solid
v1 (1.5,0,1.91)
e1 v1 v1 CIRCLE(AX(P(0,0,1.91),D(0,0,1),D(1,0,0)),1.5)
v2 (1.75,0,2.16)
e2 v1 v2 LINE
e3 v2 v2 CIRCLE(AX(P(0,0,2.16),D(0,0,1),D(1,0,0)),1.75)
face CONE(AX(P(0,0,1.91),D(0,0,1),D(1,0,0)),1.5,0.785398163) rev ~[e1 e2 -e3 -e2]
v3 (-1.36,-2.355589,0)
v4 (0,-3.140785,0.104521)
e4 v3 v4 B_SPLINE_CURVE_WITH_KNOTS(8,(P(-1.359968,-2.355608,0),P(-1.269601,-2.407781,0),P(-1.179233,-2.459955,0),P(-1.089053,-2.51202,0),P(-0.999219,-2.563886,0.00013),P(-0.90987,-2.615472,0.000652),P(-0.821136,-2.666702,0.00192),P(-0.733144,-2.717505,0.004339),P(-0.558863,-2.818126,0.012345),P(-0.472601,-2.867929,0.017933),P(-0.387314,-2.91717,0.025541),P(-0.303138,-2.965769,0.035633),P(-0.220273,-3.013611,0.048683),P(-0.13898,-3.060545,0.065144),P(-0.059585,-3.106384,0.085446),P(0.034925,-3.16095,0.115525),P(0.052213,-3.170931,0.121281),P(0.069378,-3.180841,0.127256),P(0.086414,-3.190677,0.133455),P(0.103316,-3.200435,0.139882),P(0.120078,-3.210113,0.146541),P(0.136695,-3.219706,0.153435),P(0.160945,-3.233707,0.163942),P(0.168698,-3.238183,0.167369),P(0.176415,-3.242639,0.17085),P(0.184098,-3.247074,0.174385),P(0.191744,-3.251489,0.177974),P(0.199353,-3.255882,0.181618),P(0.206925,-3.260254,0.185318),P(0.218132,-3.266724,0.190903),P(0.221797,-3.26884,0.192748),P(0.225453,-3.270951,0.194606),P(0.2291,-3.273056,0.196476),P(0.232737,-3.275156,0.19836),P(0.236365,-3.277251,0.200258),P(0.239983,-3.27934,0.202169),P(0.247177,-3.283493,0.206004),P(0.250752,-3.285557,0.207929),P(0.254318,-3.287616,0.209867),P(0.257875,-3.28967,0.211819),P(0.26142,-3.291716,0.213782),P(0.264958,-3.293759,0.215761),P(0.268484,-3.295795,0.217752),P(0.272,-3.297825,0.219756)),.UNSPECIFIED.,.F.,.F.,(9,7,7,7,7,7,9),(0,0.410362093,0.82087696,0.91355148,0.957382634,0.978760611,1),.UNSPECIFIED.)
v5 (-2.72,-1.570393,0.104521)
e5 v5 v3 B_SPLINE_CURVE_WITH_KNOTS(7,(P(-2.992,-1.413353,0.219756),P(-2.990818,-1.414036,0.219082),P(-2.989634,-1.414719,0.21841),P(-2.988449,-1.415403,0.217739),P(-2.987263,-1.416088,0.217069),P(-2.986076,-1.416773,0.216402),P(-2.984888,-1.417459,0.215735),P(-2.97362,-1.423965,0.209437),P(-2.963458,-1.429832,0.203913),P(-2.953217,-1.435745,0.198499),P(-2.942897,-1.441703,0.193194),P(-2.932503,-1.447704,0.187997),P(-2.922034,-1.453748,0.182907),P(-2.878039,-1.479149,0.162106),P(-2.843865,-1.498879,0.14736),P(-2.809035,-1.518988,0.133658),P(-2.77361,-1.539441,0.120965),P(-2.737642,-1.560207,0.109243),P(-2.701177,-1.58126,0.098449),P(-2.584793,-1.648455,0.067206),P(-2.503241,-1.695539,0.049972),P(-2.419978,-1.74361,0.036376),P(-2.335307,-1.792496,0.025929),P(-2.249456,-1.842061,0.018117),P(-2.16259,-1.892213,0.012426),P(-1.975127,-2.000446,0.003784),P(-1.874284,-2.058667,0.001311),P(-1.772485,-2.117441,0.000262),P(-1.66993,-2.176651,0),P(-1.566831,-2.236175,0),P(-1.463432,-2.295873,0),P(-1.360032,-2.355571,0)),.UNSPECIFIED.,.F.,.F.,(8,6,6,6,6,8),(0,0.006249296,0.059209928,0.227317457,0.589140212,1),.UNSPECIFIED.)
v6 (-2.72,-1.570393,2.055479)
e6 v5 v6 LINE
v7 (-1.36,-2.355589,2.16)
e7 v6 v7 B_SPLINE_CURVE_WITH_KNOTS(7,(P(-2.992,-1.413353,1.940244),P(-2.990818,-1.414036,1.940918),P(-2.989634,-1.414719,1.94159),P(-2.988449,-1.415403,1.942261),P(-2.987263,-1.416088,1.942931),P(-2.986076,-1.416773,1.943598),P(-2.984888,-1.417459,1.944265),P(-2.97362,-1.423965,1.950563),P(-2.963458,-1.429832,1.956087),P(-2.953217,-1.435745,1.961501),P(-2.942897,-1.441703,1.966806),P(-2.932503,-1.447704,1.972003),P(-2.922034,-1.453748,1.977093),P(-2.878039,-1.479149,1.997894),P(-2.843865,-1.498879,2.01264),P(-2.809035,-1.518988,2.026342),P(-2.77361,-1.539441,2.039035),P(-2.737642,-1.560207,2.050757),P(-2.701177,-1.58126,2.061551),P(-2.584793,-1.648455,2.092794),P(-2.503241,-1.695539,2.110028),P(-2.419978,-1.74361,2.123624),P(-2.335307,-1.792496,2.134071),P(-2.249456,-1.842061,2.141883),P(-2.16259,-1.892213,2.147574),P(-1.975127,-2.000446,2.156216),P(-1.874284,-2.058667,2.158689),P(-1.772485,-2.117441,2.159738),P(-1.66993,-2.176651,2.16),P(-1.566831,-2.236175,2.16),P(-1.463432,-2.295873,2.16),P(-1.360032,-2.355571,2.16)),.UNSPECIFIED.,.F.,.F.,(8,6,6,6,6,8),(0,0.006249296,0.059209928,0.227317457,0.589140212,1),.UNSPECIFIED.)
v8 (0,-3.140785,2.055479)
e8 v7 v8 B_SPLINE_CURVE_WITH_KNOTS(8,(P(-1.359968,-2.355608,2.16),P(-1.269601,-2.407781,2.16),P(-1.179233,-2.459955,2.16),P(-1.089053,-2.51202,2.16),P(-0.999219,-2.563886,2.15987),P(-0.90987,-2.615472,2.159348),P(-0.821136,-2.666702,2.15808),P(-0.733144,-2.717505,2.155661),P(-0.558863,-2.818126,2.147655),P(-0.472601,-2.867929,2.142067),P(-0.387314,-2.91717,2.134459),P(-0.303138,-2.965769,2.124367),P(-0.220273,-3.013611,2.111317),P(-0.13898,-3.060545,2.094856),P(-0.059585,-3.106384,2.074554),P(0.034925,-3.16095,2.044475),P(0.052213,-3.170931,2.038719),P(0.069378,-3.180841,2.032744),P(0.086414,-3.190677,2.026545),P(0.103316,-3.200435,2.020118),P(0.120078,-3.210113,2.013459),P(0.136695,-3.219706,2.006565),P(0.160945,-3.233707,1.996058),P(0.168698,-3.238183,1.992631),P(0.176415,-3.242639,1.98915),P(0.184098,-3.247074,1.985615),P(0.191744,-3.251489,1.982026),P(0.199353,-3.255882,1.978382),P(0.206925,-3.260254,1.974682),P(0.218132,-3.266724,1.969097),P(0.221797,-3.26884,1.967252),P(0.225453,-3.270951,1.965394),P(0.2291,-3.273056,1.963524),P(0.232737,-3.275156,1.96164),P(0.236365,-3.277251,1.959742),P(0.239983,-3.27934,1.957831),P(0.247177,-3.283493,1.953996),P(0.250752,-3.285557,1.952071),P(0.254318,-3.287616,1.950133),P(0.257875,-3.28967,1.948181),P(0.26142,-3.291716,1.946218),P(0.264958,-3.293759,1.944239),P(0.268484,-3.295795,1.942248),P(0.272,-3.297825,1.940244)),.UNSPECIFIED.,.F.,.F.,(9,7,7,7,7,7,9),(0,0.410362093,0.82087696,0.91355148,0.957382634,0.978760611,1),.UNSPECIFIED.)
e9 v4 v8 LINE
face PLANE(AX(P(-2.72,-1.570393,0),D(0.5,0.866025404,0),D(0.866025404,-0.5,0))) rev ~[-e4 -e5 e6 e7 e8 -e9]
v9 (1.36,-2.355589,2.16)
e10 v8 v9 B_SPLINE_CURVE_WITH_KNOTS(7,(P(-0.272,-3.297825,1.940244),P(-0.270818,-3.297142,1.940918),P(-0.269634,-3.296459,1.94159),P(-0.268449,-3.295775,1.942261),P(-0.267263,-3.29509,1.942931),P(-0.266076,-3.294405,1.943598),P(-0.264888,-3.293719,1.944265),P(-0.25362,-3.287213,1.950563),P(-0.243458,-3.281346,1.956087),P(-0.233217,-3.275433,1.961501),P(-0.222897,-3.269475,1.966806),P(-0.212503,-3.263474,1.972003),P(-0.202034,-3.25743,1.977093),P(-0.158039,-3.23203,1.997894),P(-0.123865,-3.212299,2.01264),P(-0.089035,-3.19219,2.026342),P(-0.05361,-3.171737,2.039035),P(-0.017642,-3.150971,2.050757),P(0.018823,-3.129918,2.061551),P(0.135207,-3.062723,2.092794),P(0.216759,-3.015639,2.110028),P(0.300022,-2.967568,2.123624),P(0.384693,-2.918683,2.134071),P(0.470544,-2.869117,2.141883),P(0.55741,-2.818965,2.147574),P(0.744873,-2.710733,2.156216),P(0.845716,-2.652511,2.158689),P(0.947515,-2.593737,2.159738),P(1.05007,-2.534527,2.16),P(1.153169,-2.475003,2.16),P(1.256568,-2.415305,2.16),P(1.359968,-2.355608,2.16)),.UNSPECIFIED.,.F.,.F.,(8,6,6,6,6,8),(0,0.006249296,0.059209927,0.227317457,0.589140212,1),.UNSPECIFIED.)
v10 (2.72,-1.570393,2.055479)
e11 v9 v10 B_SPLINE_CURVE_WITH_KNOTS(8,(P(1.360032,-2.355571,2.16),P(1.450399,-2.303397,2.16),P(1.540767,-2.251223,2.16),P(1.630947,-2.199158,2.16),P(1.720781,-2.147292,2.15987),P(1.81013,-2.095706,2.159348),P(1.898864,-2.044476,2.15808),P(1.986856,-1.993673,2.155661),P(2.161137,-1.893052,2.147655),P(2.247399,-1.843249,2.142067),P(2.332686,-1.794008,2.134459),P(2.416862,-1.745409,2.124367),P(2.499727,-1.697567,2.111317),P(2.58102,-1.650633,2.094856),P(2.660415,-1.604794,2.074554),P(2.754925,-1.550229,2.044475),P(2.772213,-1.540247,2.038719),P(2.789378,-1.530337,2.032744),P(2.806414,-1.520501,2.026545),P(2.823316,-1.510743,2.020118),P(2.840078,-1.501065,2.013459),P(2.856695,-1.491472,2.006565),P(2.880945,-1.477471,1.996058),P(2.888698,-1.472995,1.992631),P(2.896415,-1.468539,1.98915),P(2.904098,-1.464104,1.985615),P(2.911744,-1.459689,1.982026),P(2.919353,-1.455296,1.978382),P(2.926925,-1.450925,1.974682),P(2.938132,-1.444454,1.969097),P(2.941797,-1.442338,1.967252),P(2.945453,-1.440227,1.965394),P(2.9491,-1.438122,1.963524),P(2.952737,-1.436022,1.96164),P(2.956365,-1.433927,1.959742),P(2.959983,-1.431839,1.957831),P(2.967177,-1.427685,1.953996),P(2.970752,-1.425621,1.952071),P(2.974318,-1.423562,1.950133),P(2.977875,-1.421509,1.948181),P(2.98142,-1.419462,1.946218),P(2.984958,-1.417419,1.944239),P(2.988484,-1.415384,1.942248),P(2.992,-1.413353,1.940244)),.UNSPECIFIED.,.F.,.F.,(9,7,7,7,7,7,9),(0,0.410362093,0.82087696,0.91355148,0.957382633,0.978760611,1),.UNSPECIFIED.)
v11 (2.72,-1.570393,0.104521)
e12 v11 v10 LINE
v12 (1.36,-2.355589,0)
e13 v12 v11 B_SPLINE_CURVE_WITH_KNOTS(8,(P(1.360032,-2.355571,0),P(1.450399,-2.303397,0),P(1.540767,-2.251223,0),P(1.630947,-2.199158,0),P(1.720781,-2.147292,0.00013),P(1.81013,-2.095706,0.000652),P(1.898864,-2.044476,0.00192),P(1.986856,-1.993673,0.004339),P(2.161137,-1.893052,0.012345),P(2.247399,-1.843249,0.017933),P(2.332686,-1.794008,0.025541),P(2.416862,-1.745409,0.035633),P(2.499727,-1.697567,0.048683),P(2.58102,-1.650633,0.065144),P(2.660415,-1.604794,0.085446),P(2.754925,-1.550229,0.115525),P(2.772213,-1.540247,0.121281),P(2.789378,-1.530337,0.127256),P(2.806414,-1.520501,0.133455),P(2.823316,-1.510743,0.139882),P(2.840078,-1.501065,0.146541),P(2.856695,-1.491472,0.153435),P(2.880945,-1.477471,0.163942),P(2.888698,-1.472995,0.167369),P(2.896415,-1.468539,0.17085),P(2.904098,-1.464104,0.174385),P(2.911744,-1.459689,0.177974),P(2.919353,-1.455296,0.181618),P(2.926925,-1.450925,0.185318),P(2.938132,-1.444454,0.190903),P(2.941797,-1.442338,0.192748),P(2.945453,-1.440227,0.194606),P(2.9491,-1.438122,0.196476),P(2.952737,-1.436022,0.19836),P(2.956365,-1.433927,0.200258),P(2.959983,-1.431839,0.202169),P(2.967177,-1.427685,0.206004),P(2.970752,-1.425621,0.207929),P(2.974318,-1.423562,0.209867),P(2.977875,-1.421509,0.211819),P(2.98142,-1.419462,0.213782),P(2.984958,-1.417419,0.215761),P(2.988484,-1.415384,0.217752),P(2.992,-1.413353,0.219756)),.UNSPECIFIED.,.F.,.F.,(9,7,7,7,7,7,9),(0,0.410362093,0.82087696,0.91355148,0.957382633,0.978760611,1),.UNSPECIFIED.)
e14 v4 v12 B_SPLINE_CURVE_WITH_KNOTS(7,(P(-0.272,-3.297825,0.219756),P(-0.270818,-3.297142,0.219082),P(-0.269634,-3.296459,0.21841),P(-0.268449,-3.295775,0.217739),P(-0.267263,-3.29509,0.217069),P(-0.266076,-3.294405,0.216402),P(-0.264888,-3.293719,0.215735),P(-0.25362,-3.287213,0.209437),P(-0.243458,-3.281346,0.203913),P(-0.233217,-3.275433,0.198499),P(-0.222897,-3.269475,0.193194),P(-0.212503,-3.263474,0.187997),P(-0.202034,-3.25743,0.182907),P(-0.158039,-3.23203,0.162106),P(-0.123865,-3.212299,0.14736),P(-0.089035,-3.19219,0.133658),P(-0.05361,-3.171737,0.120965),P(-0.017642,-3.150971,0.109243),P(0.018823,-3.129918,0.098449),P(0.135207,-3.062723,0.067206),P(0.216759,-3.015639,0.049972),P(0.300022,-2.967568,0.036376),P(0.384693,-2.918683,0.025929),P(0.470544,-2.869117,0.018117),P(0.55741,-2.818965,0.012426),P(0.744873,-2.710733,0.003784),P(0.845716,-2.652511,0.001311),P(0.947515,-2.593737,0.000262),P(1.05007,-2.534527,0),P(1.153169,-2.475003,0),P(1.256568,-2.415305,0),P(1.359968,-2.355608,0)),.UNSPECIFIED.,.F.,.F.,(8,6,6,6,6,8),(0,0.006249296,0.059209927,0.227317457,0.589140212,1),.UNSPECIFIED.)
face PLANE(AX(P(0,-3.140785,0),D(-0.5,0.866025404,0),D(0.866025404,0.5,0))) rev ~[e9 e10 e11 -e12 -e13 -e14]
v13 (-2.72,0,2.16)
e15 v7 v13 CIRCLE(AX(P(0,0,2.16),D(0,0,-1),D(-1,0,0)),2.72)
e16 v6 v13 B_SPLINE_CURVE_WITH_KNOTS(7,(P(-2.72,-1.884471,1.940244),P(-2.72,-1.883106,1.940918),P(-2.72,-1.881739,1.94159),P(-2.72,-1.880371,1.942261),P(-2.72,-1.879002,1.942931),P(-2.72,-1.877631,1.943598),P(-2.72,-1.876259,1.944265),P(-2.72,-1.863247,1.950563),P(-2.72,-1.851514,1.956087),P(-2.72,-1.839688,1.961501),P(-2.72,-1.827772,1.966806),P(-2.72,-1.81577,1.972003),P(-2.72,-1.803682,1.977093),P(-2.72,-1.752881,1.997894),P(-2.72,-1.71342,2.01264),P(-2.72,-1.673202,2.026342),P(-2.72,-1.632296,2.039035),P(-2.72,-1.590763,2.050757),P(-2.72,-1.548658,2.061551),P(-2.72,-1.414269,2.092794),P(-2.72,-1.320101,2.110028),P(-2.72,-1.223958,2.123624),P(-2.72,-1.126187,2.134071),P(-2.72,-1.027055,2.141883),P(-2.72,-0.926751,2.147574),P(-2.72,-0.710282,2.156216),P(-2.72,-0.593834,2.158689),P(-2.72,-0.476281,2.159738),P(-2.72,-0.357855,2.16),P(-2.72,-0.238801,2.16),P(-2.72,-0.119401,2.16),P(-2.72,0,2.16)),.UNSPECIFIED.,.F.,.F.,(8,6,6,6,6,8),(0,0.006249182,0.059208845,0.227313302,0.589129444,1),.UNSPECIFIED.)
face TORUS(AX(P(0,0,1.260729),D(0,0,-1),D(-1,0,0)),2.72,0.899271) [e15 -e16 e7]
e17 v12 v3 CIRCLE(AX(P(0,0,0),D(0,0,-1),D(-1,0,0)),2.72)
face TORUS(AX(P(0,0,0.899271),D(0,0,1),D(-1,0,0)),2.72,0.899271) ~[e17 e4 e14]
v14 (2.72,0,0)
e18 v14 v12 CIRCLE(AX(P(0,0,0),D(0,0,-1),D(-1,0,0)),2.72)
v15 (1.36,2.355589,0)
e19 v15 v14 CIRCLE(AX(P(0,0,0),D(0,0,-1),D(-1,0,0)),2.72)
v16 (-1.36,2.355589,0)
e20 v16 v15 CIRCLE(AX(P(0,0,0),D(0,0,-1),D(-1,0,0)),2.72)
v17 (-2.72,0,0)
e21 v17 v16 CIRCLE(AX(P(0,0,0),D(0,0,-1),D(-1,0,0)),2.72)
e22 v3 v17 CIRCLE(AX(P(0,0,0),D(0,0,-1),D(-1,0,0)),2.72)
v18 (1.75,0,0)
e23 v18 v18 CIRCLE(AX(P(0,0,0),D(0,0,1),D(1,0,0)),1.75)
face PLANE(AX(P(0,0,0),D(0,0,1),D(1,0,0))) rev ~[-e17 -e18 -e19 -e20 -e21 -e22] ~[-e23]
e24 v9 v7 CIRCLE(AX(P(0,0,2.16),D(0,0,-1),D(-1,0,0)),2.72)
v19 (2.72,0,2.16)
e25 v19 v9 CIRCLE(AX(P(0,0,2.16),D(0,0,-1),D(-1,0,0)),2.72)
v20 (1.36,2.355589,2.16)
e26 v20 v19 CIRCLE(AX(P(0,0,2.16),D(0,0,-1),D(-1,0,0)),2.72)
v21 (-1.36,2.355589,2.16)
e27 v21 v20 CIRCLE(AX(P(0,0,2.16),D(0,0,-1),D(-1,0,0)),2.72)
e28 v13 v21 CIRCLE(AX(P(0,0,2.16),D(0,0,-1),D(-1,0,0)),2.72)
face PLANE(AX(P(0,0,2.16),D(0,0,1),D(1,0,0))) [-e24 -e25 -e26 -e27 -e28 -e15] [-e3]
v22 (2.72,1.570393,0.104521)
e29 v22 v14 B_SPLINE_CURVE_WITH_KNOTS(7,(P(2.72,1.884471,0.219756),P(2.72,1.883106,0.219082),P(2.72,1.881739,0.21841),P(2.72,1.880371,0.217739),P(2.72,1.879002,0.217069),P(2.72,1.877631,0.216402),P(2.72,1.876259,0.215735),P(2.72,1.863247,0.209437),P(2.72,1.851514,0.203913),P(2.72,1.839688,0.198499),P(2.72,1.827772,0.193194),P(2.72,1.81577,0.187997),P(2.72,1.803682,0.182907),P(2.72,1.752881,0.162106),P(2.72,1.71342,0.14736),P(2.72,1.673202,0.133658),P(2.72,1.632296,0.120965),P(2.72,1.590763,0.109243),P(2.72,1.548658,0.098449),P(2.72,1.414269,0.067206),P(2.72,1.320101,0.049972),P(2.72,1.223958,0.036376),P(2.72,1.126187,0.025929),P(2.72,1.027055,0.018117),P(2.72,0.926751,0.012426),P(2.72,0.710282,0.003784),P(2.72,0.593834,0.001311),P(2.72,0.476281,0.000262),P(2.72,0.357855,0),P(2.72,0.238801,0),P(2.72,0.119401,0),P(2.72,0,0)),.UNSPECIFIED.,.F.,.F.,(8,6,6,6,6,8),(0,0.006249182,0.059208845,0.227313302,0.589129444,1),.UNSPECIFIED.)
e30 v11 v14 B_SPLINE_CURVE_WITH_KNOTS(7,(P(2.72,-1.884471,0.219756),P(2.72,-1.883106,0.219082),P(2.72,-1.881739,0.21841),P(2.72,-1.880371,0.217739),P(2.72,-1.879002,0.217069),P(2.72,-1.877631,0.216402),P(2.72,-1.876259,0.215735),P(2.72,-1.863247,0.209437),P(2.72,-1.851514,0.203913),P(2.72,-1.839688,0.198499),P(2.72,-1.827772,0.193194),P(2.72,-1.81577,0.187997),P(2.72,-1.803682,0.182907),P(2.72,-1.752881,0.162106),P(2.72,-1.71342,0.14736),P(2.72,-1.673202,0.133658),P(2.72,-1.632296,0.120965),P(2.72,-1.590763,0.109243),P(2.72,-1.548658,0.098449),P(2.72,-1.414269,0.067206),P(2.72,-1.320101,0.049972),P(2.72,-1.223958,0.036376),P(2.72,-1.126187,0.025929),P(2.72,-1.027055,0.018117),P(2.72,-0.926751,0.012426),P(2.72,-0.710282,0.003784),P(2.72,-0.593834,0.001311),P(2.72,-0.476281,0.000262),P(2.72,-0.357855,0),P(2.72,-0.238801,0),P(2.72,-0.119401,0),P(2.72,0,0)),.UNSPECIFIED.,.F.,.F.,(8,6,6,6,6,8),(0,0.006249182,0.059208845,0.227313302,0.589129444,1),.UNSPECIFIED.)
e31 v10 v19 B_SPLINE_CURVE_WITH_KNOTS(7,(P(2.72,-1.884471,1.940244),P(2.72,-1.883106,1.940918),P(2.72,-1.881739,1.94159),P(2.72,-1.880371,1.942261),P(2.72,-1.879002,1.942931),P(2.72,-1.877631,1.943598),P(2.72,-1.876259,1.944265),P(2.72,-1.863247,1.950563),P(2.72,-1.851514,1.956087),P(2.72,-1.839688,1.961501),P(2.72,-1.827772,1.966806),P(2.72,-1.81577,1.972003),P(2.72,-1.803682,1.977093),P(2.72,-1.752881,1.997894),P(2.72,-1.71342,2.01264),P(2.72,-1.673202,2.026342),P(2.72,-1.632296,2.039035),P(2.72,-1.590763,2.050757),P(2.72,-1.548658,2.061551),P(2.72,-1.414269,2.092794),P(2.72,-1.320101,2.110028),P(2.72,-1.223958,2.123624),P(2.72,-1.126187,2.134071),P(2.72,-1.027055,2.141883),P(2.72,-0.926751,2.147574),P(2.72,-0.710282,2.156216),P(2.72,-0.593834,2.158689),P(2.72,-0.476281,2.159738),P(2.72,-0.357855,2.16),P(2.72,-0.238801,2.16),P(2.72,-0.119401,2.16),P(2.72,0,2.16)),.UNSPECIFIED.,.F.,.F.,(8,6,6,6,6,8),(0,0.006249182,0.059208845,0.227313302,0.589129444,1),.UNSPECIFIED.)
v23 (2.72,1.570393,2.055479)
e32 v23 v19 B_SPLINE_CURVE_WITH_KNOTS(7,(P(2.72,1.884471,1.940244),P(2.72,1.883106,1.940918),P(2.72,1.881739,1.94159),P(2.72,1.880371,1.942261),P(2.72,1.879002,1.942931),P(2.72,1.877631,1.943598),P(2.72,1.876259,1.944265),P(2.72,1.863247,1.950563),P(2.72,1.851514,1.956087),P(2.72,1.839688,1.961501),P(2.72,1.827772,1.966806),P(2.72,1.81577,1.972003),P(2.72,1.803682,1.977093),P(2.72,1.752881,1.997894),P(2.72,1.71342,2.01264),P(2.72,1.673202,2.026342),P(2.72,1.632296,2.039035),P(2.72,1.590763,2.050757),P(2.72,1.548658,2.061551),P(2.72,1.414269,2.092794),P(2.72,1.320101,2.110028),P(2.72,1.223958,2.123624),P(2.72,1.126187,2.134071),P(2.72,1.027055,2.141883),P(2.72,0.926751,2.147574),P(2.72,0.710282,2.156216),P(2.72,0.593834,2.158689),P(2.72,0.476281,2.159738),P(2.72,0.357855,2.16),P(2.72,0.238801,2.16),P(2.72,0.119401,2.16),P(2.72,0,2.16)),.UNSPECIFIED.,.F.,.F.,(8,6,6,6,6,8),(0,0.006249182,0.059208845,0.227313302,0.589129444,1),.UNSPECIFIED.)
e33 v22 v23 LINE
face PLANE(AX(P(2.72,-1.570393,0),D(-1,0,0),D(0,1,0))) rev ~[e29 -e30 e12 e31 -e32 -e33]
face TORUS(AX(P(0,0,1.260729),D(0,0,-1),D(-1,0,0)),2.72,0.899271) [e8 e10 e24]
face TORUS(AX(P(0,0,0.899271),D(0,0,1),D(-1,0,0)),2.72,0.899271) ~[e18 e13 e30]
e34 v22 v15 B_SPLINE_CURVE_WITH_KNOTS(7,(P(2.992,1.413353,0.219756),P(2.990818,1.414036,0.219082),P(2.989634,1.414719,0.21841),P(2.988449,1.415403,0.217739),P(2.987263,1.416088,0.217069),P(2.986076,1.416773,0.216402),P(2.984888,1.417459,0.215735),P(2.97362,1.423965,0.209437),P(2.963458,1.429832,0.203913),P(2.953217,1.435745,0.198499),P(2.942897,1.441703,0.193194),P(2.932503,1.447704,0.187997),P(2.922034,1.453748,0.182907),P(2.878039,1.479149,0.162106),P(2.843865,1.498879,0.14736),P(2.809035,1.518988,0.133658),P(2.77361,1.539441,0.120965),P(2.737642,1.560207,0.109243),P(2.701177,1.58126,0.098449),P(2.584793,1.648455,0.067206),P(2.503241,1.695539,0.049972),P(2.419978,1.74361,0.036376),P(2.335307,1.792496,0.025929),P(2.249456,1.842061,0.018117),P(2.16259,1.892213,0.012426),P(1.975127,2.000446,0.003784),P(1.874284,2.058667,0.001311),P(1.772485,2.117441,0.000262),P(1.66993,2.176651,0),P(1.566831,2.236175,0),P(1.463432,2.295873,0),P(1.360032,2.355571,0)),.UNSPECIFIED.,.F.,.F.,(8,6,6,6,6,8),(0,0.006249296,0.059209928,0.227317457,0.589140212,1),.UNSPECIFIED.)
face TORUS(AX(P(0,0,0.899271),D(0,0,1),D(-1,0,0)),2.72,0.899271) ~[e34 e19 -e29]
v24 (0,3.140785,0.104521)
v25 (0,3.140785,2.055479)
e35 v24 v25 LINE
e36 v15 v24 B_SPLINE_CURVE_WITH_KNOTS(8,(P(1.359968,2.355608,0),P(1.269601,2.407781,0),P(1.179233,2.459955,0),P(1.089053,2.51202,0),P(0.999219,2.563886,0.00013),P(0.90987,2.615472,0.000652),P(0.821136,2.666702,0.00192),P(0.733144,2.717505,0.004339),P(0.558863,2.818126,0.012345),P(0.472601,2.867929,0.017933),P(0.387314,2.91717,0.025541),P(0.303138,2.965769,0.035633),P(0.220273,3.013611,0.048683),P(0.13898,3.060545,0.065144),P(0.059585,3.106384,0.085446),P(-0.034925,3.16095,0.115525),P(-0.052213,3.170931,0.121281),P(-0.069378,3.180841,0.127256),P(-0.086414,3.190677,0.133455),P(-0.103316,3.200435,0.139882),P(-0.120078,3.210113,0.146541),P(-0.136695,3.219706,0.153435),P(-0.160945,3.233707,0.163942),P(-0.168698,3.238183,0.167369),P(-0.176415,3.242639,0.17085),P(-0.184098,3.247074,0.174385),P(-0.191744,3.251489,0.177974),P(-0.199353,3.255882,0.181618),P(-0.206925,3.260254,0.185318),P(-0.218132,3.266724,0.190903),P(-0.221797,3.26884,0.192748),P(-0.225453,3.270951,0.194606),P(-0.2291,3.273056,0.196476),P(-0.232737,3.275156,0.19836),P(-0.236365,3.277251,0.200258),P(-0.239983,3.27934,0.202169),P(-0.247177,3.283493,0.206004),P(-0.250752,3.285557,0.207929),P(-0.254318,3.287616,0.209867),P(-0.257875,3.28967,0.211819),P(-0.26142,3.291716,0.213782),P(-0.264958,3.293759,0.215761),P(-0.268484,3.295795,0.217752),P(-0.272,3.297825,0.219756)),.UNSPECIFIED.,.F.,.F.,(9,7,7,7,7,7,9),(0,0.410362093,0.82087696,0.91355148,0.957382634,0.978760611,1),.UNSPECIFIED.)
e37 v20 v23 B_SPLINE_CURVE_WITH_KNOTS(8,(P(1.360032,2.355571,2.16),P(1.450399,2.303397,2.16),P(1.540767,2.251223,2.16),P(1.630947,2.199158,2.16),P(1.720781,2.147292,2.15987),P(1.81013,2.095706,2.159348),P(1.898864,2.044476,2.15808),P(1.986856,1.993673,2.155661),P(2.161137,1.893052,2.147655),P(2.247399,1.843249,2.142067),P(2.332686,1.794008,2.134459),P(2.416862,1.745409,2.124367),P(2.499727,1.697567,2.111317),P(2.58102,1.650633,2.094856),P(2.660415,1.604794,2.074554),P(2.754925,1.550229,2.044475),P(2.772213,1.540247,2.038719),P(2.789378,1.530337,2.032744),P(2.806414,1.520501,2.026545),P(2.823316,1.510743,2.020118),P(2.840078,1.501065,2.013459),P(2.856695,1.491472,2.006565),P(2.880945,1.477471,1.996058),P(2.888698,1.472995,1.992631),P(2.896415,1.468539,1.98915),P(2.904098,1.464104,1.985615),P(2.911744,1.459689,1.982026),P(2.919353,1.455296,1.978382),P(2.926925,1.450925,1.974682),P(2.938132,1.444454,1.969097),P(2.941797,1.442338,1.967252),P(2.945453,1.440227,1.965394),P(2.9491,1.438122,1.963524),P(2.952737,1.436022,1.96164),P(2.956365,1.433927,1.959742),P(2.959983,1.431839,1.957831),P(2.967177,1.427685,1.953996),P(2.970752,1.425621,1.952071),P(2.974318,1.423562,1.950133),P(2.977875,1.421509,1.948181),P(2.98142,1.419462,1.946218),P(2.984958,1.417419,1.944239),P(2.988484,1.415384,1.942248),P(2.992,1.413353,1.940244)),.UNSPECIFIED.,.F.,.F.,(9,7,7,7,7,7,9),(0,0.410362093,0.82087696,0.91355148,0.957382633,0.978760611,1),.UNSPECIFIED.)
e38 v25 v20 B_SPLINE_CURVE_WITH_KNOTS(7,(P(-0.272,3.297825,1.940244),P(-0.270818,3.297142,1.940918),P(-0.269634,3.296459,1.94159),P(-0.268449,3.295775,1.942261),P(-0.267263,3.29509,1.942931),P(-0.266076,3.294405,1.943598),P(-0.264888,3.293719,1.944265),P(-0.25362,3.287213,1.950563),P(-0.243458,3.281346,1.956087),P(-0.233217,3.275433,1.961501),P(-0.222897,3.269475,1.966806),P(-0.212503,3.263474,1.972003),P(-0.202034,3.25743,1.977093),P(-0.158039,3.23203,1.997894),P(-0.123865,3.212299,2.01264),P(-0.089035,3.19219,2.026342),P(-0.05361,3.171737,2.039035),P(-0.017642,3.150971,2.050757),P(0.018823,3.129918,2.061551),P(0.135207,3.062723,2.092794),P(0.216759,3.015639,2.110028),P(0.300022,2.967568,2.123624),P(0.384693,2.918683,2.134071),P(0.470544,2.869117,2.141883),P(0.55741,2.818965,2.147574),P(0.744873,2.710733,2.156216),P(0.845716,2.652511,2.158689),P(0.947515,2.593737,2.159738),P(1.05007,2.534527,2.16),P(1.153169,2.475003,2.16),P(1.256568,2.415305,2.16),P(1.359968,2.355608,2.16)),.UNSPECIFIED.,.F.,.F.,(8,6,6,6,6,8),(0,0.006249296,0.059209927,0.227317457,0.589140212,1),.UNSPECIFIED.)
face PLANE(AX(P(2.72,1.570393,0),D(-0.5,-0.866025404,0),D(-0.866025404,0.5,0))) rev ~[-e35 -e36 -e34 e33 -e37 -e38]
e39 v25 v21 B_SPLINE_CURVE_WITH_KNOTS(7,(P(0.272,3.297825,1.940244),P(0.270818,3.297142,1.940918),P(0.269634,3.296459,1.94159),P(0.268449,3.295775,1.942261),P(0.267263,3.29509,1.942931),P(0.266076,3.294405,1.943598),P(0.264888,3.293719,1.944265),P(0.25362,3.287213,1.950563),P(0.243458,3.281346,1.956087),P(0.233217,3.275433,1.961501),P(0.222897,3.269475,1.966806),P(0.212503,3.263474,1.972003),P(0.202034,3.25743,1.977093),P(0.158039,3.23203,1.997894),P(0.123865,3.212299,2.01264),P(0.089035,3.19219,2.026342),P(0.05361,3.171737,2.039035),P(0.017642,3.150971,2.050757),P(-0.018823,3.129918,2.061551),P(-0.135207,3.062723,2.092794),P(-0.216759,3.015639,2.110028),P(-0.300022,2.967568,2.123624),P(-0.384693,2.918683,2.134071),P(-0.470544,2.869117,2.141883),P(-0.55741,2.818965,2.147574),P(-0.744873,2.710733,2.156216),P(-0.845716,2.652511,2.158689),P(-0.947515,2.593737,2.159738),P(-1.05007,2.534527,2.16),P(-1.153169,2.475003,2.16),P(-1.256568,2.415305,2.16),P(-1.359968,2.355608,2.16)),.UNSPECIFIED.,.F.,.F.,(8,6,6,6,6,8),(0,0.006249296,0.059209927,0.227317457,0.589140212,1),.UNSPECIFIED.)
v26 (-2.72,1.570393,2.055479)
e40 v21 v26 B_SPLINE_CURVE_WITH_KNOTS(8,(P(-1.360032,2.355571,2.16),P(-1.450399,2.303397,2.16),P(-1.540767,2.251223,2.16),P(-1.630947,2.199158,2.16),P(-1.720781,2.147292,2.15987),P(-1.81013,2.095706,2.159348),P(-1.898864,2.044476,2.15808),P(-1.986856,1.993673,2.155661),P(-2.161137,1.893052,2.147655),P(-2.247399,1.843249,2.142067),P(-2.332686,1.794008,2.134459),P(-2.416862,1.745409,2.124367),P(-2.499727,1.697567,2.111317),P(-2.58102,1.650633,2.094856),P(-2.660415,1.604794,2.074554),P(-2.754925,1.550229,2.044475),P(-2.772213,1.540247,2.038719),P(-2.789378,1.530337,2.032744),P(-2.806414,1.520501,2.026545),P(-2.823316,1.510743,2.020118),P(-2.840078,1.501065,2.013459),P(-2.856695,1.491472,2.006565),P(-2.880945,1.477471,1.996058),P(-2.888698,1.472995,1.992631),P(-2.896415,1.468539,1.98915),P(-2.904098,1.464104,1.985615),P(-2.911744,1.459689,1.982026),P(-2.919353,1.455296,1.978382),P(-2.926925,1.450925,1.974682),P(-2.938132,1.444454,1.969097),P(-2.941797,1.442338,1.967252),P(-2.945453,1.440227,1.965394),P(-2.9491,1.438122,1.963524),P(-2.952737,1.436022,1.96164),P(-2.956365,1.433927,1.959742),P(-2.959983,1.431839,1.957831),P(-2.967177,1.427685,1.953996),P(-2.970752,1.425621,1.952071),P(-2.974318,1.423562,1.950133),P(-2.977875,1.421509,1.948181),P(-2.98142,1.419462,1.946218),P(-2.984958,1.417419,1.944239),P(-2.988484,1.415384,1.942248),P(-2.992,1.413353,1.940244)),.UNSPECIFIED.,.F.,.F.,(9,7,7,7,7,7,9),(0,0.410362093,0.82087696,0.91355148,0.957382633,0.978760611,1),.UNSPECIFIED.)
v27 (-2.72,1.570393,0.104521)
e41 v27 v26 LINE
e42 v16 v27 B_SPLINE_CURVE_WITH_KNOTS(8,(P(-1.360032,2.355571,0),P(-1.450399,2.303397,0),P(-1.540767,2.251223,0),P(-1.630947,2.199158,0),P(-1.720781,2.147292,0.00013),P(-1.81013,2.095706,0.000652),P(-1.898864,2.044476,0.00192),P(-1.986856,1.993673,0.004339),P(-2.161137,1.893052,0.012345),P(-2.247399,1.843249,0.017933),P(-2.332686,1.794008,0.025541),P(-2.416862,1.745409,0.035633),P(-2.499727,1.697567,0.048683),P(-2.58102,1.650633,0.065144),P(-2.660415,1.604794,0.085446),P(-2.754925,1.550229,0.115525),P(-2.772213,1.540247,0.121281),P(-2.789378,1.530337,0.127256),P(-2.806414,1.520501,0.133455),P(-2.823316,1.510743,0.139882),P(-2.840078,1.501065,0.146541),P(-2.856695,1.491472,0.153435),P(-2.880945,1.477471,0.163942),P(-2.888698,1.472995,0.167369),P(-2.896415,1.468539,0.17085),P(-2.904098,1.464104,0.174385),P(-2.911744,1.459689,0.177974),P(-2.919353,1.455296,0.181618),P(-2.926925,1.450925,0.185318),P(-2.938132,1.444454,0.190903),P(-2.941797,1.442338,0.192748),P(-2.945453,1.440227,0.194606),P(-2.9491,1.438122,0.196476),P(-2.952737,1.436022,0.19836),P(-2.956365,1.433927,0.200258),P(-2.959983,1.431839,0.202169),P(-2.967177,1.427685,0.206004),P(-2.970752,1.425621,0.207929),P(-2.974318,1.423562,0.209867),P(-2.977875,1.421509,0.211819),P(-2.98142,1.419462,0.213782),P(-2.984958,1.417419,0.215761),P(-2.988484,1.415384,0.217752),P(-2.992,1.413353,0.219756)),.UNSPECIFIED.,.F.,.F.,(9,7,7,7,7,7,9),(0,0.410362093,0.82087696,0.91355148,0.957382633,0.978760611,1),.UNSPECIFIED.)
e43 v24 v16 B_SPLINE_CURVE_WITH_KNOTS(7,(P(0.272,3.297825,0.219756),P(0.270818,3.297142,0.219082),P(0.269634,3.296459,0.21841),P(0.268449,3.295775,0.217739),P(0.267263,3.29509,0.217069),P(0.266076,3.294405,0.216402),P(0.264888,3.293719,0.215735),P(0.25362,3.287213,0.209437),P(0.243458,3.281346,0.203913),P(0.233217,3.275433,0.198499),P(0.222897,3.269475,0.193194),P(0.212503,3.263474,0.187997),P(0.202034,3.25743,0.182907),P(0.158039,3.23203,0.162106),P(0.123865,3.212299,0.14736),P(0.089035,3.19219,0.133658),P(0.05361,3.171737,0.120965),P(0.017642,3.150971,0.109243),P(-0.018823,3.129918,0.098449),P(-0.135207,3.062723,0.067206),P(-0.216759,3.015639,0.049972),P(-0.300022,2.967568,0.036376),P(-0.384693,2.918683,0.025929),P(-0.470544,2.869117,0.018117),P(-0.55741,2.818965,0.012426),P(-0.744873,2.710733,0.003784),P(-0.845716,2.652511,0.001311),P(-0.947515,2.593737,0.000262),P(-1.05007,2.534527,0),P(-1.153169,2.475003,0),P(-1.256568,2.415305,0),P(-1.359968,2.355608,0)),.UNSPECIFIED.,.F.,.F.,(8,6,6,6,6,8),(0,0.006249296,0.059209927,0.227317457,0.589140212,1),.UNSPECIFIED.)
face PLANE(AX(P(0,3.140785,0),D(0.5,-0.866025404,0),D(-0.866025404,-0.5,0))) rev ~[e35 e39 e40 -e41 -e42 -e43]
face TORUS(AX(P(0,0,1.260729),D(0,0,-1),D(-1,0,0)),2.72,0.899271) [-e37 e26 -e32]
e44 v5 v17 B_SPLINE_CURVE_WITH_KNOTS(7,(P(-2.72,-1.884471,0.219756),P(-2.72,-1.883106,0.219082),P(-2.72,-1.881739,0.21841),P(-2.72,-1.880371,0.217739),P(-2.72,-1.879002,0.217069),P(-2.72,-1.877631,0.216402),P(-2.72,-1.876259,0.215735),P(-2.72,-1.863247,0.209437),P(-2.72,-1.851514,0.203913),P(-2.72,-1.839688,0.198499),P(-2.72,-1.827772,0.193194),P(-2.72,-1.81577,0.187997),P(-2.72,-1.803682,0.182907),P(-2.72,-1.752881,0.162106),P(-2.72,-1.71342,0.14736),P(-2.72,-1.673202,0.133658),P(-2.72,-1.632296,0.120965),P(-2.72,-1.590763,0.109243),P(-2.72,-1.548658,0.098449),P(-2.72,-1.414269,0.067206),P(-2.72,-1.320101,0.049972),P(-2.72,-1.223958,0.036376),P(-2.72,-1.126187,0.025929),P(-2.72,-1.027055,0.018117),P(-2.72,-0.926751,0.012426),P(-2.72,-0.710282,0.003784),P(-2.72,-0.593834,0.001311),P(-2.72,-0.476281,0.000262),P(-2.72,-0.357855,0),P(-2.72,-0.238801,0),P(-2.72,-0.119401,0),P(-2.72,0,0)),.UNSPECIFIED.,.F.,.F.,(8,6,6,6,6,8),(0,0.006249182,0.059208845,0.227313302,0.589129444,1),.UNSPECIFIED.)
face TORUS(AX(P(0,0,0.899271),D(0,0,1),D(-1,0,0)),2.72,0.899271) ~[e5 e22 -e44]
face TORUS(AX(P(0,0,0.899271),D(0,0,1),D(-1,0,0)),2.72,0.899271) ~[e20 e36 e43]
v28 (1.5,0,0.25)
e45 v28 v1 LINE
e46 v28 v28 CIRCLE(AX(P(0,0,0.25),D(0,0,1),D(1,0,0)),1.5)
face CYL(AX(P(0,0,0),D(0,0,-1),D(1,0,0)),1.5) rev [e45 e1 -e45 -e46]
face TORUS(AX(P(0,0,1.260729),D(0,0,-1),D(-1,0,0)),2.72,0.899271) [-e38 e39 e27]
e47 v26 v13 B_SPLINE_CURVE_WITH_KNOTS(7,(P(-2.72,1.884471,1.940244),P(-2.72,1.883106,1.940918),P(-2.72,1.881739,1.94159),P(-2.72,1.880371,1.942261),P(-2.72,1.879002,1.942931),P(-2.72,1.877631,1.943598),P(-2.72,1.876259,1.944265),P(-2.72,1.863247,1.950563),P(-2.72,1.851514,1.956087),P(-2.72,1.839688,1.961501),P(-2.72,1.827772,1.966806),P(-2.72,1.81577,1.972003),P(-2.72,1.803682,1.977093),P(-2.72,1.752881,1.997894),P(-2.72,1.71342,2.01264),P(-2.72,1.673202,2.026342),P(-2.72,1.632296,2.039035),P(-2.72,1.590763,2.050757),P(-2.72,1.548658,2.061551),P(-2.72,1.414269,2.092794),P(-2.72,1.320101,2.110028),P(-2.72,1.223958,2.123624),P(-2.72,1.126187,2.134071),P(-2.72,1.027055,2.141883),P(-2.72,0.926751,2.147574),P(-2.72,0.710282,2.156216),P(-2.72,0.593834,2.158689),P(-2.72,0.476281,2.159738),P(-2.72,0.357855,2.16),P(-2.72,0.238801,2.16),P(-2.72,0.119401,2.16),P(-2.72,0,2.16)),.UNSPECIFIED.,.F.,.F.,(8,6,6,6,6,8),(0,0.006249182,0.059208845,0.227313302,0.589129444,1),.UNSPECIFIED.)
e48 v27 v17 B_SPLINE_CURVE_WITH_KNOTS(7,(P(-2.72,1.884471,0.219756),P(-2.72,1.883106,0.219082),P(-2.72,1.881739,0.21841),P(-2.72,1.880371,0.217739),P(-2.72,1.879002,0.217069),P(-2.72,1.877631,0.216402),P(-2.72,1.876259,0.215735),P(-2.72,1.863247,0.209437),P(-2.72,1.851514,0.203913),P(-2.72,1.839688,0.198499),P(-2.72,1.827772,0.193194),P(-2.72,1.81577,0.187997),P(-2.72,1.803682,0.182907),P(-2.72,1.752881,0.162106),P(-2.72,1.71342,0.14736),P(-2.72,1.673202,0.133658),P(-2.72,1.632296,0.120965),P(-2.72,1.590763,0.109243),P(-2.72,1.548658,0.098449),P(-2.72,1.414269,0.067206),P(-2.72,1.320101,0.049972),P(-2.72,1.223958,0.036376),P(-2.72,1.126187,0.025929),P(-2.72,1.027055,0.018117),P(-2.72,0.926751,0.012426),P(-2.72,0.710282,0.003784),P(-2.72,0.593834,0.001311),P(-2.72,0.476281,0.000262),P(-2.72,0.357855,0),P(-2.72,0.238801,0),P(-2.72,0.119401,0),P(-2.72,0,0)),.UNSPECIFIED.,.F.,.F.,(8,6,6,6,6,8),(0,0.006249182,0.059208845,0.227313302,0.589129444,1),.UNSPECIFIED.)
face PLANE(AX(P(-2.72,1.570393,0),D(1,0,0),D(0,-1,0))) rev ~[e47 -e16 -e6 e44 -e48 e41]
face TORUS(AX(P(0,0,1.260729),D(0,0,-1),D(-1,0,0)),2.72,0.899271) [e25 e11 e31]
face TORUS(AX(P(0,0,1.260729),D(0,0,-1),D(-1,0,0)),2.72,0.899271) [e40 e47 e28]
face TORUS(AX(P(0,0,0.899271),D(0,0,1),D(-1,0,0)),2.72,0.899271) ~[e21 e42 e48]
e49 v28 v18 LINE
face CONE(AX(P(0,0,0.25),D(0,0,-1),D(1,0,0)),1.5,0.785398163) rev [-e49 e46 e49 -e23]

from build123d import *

# Parameters (mm, degrees)
SKETCH1_R           = 1.5
BOSS_EXTRUDE1_DEPTH = 2.16
CHAMFER1_SIZE       = 0.25


with BuildPart() as part:
    # Sketch1 → Boss-Extrude1 (new body)
    with BuildSketch(Plane.XY):
        Polygon((2.72, 1.570392732), (0, 3.140785464), (-2.72, 1.570392732), (-2.72, -1.570392732), (0, -3.140785464), (2.72, -1.570392732), align=None)
        Circle(SKETCH1_R, mode=Mode.SUBTRACT)
    extrude(amount=BOSS_EXTRUDE1_DEPTH)

    # Chamfer1
    chamfer1_edges = [part.edges().sort_by_distance(p)[0] for p in [
        (-1.5, 0, 0),
        (-1.5, 0, 2.16),
    ]]
    chamfer(chamfer1_edges, length=CHAMFER1_SIZE)

    # Sketch2 → Cut-Revolve1 (revolve, cut)
    with BuildSketch(Plane(origin=(0, 0, 0), x_dir=(1, 0, 0), z_dir=(0, 1, 0))):
        with BuildLine():
            Line((-3.580128719, -0.636846199), (-4.500819954, -0.636846199))
            Line((-4.500819954, -0.636846199), (-4.500819954, 0.361239255))
            Line((-4.500819954, 0.361239255), (-2.72, 0.361239255))
            Line((-2.72, 0.361239255), (-2.72, 0))
            ThreePointArc((-2.72, 0), (-3.255115524, -0.176540297), (-3.580128719, -0.636846199))
        make_face()
        with BuildLine():
            Line((-2.72, -2.521239255), (-2.72, -2.16))
            ThreePointArc((-2.72, -2.16), (-3.255115524, -1.983459703), (-3.580128719, -1.523153801))
            Line((-3.580128719, -1.523153801), (-4.500819954, -1.523153801))
            Line((-4.500819954, -1.523153801), (-4.500819954, -2.521239255))
            Line((-4.500819954, -2.521239255), (-2.72, -2.521239255))
        make_face()
    revolve(axis=Axis((0, 0, 1.08), (0, 0, -1)), mode=Mode.SUBTRACT)


solid = part.part
